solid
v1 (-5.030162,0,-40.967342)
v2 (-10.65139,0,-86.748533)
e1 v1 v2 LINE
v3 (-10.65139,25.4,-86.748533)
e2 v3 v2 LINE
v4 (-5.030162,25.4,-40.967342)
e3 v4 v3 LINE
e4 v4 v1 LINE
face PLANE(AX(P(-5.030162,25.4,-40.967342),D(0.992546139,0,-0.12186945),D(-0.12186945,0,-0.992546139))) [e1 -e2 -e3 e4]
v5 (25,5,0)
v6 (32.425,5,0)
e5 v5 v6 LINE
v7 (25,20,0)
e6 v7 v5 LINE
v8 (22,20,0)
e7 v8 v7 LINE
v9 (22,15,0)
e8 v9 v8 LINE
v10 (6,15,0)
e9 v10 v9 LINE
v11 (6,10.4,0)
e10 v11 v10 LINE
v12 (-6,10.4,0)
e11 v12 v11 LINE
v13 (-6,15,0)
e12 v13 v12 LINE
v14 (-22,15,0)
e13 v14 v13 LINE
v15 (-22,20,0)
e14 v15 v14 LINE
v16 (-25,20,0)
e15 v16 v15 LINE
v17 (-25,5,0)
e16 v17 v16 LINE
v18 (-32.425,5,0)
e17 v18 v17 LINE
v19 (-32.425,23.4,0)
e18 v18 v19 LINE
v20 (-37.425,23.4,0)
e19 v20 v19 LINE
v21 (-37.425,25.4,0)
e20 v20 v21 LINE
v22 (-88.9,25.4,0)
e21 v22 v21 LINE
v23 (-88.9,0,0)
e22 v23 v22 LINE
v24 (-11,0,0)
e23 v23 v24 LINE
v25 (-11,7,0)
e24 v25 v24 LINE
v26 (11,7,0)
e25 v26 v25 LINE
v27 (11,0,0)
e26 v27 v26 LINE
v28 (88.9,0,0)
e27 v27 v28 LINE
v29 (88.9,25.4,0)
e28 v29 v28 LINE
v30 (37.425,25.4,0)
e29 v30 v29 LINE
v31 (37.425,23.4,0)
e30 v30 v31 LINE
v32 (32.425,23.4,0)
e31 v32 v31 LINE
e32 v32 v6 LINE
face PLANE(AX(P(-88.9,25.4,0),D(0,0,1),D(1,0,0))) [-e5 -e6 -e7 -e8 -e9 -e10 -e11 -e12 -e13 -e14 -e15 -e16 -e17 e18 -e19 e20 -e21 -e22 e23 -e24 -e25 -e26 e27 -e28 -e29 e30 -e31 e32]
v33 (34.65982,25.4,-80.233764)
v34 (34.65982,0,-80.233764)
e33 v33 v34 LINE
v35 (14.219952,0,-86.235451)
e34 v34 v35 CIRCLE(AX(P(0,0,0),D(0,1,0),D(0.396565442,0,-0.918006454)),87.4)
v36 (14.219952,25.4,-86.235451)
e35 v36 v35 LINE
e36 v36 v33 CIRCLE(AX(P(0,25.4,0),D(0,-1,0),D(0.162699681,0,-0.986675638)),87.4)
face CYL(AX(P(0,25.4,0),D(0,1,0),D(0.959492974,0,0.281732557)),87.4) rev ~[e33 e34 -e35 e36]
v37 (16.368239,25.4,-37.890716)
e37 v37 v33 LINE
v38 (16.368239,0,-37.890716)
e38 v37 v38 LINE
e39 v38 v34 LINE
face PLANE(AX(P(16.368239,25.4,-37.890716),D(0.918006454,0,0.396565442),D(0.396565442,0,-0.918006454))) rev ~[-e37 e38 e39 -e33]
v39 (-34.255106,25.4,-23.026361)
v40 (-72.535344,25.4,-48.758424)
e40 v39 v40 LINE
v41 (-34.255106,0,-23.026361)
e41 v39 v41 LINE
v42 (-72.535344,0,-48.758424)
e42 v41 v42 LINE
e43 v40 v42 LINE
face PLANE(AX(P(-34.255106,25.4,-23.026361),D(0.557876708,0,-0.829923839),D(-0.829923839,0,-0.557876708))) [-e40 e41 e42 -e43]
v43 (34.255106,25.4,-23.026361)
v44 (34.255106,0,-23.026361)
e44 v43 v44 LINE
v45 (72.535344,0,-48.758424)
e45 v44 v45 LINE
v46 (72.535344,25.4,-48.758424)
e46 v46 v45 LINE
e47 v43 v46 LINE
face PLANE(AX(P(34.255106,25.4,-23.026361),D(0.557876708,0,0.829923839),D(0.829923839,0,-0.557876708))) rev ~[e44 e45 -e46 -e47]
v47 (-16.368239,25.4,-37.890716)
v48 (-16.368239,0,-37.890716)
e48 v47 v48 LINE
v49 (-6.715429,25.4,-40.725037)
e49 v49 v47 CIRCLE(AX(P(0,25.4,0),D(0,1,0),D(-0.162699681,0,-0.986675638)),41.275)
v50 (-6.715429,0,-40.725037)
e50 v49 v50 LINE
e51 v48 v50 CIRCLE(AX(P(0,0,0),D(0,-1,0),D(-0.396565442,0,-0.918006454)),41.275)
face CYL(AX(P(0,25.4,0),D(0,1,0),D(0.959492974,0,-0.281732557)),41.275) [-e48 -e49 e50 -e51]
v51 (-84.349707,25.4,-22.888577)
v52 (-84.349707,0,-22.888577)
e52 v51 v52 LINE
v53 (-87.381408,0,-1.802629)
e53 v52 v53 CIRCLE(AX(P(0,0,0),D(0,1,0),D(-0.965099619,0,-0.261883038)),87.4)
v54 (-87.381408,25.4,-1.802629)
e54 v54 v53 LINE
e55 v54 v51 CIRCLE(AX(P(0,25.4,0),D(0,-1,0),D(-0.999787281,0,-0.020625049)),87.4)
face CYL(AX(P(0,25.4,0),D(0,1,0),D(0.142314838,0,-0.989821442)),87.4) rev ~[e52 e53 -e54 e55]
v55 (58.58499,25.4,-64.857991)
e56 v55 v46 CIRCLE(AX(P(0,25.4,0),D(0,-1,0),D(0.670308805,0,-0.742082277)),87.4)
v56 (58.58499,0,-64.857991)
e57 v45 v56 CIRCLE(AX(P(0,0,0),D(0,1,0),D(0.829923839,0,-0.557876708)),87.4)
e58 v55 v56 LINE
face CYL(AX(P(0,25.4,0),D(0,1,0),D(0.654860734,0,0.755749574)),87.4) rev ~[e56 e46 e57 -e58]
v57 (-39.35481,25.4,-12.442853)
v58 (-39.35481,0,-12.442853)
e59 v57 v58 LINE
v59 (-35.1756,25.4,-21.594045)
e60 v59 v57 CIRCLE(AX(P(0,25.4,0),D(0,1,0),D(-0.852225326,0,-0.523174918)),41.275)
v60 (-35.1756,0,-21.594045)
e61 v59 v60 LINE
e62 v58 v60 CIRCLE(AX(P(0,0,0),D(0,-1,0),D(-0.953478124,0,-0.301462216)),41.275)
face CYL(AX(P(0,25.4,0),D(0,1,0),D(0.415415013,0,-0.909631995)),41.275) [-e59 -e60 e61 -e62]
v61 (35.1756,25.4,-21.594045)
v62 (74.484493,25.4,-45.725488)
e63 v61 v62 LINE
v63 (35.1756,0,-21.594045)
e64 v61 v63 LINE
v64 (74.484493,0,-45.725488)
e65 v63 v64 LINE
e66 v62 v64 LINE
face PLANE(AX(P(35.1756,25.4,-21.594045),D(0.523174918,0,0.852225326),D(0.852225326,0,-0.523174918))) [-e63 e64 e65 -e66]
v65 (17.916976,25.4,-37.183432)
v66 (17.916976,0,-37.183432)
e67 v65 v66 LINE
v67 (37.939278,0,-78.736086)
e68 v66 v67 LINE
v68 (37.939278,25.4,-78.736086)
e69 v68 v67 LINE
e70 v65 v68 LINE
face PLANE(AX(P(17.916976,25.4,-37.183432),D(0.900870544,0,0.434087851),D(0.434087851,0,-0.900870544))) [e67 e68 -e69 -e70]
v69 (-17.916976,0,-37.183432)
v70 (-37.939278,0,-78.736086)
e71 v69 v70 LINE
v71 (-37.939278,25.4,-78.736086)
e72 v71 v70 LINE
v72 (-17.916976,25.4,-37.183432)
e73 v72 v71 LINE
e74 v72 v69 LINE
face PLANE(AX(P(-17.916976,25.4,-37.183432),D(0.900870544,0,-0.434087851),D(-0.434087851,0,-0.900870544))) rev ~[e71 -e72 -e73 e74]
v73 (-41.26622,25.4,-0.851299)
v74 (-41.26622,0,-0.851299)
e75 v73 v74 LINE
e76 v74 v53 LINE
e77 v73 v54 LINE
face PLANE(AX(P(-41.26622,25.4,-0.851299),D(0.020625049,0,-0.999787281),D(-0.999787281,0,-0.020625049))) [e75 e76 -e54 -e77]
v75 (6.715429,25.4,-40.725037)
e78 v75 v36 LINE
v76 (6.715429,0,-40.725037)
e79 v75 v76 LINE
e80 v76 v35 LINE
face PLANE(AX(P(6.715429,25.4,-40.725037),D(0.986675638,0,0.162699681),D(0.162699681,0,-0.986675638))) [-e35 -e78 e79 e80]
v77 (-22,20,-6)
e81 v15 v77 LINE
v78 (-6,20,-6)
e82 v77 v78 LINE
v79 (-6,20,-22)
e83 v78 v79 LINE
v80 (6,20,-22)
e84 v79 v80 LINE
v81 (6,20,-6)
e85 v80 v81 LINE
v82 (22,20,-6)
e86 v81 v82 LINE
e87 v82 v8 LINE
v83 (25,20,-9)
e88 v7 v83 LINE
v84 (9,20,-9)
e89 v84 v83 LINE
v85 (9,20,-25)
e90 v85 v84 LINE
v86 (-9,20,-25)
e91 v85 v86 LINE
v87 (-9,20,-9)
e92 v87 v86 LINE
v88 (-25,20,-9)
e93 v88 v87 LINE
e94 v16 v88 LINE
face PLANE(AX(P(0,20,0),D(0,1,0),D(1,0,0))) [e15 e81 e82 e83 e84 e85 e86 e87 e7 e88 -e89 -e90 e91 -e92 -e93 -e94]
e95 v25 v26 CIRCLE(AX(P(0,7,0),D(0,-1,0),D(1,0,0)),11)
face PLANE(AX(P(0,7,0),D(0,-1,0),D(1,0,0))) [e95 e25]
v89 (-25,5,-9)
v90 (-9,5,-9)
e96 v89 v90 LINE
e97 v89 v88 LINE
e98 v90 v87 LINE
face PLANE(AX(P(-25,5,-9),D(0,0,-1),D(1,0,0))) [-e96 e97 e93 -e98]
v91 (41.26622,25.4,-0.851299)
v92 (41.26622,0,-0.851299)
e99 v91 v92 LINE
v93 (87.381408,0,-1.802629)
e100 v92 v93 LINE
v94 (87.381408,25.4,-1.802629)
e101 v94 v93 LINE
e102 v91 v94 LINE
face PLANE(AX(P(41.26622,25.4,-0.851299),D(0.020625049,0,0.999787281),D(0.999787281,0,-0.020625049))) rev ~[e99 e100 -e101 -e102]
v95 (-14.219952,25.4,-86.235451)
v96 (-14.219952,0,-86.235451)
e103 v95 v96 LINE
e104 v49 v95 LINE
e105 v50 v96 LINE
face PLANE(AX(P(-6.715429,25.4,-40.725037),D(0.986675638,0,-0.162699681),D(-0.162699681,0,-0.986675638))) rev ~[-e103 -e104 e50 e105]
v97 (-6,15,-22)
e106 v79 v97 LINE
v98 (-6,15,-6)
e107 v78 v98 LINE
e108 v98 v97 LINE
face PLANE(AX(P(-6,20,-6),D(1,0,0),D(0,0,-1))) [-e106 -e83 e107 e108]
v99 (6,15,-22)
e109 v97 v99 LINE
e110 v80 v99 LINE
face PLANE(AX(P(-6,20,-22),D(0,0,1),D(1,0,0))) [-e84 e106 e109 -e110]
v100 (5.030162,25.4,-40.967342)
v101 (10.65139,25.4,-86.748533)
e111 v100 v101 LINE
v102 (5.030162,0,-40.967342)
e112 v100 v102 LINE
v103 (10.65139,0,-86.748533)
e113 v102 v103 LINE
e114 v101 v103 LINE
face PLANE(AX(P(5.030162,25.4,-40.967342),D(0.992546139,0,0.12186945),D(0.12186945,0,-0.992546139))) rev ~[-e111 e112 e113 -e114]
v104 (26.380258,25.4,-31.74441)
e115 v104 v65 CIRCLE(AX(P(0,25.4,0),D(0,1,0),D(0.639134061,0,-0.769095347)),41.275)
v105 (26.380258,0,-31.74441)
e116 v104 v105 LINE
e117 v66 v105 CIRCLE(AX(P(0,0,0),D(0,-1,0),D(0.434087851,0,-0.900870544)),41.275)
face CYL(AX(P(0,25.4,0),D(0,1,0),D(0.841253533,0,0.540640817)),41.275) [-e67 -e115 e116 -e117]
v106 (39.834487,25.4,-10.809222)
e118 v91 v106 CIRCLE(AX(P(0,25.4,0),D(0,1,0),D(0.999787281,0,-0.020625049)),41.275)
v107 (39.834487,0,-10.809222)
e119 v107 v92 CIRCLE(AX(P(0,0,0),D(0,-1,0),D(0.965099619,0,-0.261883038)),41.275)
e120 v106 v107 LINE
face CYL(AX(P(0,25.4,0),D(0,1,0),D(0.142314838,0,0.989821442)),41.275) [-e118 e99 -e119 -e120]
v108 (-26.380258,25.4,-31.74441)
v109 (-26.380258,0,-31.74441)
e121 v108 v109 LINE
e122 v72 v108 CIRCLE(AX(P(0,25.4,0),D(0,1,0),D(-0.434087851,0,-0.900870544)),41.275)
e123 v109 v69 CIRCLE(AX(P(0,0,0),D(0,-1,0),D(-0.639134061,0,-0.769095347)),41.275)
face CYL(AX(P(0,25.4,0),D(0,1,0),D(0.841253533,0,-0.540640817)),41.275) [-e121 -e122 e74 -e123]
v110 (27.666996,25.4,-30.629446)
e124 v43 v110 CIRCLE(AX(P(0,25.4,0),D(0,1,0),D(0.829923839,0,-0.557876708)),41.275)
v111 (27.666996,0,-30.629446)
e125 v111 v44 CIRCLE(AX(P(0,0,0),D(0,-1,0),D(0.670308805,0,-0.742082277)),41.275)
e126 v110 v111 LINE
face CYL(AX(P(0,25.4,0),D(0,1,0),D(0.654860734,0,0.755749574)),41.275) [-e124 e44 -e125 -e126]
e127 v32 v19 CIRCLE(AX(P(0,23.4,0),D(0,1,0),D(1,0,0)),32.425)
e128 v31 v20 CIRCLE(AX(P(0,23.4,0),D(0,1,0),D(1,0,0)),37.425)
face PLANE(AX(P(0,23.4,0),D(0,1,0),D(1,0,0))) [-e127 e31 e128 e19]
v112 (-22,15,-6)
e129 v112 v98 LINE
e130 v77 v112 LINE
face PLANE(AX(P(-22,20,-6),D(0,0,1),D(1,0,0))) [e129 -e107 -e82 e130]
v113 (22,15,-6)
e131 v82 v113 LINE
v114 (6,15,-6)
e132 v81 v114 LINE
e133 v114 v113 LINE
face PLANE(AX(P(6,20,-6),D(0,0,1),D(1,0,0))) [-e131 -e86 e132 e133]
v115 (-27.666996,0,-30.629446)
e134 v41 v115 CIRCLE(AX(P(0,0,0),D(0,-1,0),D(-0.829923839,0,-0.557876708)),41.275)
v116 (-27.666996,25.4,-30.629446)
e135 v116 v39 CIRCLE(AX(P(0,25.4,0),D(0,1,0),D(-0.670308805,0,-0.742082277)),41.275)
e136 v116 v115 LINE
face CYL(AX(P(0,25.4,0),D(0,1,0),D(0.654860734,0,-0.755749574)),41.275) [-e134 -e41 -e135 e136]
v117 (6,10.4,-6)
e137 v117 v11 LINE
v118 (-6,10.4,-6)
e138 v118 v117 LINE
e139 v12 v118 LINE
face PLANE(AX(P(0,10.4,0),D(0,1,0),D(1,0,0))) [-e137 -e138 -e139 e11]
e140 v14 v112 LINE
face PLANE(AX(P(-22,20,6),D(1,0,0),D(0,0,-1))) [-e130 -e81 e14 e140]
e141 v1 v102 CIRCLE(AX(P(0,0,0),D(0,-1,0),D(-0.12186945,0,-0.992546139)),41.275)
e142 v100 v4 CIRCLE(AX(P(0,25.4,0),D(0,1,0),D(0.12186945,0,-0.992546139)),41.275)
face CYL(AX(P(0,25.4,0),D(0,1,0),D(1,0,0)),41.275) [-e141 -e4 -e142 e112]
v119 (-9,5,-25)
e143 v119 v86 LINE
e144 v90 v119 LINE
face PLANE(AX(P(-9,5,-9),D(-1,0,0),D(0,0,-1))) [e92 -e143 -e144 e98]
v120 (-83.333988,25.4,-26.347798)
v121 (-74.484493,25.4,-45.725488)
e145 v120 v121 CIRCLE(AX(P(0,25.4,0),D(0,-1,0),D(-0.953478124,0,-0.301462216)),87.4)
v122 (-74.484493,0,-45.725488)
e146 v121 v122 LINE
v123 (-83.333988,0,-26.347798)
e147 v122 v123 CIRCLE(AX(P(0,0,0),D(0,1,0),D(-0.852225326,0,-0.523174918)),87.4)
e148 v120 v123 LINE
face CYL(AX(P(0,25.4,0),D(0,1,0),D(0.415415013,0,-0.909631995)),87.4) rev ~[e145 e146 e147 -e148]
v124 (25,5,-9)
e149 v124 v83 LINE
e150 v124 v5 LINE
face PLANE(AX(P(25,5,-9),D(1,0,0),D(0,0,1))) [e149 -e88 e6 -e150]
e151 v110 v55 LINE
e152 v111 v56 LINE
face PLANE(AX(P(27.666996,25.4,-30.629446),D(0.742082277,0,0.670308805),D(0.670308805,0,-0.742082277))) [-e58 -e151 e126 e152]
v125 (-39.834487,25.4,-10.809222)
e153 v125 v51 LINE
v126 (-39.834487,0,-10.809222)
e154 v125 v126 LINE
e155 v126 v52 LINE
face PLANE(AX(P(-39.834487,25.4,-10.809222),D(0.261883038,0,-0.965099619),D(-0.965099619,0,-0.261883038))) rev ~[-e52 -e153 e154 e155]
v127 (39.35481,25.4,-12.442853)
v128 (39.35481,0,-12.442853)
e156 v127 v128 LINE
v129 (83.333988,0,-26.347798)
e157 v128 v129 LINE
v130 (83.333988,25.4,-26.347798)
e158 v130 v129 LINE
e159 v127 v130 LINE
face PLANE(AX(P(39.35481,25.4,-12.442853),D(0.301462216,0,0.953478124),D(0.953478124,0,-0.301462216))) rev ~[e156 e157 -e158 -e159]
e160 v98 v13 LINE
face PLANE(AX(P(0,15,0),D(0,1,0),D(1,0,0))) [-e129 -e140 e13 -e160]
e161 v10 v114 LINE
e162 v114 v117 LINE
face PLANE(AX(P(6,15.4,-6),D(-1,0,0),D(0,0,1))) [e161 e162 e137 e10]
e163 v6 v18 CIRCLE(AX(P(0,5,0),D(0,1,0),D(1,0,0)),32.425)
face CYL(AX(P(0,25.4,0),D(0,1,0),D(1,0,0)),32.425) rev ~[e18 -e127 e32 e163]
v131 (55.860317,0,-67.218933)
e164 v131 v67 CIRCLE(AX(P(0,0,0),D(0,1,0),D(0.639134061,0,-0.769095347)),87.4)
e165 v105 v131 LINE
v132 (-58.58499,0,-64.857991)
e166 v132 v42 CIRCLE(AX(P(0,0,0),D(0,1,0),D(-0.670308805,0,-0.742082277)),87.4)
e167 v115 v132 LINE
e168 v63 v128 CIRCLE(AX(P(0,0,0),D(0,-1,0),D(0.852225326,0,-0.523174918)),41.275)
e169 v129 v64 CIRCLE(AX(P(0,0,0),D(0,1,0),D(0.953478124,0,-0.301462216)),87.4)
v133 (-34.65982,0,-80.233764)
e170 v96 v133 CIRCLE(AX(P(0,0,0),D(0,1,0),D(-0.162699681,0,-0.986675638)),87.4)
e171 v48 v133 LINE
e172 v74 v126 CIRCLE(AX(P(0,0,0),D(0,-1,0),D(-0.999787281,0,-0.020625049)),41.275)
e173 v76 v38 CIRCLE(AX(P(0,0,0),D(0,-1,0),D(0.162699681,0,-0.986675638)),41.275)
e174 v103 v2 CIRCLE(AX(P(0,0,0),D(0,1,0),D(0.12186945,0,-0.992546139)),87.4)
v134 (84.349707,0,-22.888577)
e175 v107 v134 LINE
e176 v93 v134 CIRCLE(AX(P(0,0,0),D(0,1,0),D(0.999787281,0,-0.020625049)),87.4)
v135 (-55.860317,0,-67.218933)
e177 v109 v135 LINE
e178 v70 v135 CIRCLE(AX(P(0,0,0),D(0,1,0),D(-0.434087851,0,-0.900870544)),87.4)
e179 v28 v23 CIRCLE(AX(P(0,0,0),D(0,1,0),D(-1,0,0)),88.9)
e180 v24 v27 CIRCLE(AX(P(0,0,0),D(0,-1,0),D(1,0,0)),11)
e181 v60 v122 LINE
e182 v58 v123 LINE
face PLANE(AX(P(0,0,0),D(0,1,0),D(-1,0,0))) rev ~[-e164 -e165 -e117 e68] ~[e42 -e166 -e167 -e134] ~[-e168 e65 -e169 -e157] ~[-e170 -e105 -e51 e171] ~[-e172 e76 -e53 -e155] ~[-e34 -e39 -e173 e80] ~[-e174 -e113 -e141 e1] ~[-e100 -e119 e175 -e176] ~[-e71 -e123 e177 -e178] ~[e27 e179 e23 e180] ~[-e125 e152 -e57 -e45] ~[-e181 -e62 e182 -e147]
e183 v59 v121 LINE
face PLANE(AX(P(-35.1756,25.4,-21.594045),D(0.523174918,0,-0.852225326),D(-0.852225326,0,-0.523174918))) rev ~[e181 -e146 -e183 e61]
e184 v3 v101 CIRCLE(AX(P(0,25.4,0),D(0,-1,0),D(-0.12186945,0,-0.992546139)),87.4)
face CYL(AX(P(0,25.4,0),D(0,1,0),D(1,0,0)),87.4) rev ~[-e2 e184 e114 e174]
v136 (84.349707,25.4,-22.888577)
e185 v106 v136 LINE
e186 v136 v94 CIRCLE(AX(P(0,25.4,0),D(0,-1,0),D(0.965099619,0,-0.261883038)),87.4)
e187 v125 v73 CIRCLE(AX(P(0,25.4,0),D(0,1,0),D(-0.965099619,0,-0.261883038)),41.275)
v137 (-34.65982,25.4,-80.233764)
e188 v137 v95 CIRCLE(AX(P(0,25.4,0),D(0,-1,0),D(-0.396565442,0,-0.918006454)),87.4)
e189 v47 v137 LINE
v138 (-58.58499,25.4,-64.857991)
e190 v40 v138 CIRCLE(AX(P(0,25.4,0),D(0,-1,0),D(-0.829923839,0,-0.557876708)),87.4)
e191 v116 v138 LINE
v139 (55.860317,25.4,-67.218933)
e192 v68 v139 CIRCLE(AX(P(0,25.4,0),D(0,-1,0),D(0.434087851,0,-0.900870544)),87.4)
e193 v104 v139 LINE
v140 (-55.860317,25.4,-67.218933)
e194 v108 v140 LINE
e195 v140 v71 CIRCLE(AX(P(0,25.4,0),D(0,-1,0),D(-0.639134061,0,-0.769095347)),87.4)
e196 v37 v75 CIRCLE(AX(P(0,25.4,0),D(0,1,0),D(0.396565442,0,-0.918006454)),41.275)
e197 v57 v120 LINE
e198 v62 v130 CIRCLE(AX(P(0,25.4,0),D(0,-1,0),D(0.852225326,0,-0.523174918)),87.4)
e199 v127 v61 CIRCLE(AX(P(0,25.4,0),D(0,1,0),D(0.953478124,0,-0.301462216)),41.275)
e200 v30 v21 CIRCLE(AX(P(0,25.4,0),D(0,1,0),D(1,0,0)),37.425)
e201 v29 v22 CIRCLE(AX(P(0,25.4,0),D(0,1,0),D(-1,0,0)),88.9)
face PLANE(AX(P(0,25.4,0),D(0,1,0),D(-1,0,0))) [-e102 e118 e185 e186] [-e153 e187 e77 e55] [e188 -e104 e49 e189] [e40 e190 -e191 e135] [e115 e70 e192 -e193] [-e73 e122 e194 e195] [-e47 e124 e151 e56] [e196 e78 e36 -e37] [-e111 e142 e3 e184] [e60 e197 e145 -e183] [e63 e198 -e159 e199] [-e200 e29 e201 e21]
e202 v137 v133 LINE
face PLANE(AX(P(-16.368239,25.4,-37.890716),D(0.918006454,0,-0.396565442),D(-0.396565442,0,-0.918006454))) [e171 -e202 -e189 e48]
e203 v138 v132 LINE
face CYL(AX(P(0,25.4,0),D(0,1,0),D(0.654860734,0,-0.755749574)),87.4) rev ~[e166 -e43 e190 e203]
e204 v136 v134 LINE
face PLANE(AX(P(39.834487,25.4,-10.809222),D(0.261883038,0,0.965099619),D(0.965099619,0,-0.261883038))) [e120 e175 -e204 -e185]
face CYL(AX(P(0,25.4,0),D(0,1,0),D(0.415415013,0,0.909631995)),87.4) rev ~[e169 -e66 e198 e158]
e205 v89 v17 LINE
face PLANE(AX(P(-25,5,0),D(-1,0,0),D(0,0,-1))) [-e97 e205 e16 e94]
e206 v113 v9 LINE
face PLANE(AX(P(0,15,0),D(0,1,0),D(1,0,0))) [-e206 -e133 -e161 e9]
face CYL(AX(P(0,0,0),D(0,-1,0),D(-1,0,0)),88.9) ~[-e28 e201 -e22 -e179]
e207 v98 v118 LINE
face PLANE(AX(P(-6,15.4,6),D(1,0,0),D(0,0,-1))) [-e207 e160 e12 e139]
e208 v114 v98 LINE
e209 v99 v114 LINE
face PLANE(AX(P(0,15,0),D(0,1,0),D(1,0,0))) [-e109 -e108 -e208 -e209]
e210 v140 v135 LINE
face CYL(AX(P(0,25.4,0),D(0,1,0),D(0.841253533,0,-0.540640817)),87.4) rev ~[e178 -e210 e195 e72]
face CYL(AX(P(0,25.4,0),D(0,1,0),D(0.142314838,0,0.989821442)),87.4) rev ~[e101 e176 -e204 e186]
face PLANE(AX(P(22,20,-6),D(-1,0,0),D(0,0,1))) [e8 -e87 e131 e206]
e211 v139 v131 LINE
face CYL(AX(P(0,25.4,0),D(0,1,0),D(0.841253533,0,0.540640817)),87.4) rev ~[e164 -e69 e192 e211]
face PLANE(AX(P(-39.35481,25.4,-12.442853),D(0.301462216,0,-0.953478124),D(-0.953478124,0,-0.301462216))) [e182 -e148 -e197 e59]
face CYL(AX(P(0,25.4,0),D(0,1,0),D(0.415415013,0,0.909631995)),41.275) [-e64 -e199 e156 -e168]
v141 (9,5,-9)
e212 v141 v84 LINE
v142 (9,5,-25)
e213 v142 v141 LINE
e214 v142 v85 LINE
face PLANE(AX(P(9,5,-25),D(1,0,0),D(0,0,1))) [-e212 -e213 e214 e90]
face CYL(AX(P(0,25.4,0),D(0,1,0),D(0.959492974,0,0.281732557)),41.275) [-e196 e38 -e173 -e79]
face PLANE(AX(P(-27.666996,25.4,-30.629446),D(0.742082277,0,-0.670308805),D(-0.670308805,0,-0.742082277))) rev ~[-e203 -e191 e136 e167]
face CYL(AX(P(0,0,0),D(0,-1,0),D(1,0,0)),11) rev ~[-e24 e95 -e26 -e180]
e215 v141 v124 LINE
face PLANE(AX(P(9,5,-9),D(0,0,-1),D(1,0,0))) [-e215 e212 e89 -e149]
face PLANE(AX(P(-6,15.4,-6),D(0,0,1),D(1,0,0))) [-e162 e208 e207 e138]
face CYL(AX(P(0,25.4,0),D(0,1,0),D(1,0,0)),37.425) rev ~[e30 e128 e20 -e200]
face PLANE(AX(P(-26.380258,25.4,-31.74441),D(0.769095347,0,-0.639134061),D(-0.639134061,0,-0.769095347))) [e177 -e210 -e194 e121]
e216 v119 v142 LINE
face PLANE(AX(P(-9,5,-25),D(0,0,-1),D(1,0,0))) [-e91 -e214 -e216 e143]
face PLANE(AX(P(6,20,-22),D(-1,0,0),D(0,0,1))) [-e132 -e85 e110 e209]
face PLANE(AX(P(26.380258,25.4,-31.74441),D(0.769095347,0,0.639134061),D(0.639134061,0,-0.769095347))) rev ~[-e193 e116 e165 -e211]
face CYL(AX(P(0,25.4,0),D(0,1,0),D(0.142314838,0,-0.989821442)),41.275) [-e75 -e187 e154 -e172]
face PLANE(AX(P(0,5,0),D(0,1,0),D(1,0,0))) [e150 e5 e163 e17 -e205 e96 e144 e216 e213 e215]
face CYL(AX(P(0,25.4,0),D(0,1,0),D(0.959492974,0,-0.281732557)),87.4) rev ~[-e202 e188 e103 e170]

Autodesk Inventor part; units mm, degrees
ref_plane "YZ Plane" through (0, 0, 0) normal (1, 0, 0) x (0, 1, 0)
sketch "Sketch1" plane through (0, 0, 0) normal (0, 1, 0) x (-1, 0, 0)
  circle A0 centre (0, 0) radius 88.9
  dimension "d0" = 177.8
extrude "Extrusion1" add sketch "Sketch1" along normal blind 25.4
sketch "Sketch2" plane through (0, 25.4, 0) normal (0, 1, 0) x (1, 0, 0)
  circle A0 centre (0, 0) radius 87.4
  line L0 (0, 0) -> (-10.8342, 88.2374)
  circle A1 centre (0, 0) radius 88.9 projected
  line L1 (0, 0) -> (10.8342, 88.2374)
  circle A2 centre (0, 0) radius 34.925
  line L2 (0, 0) -> (0, 88.9)
  circle A3 centre (0, 0) radius 41.275
  point P0 (-4.2563, 34.6647)
  point P1 (4.2563, 34.6647)
  point P2 (10.6514, 86.7485)
  point P3 (-10.6514, 86.7485)
  point P4 (-5.0302, 40.9673)
  point P5 (5.0302, 40.9673)
  dimension "d3" = 174.8
  dimension "d4" = 69.85
  dimension "d10" = 14
  dimension "d11" = 7
  dimension "d45" = 82.55
extrude "Extrusion2" cut sketch "Sketch2" against normal blind 25.4 contours L1 A3 L2 A0 | A0 L2 A3 L0
pattern_circular "Circular Pattern1" count 22 over 360 about axis through (0, 0, 0) along (0, 1, 0) of "Extrusion2"
sketch "Sketch4" plane through (0, 25.4, 0) normal (0, 1, 0) x (1, 0, 0)
  circle A0 centre (0, 0) radius 32.425
  dimension "d16" = 64.85
extrude "Extrusion3" cut sketch "Sketch4" against normal blind 20.4
ref_plane "Work Plane1" through (0, 5, 0) normal (0, 1, 0) x (1, 0, 0)
sketch "Sketch5" plane through (0, 5, 0) normal (0, 1, 0) x (1, 0, 0)
  line L0 (0, 0) -> (0, 25)
  line L1 (0, 0) -> (-25, 0)
  line L2 (0, 0) -> (0, -25)
  line L3 (0, 0) -> (25, 0)
  line L4 (25, 0) -> (25, -9)
  line L5 (0, -25) -> (9, -25)
  line L6 (9, -25) -> (9, -9)
  line L7 (9, -9) -> (25, -9)
  line L8 (0, -25) -> (-9, -25)
  line L9 (-9, -25) -> (-9, -9)
  line L10 (-9, -9) -> (-25, -9)
  line L11 (-25, -9) -> (-25, 0)
  line L12 (-25, 0) -> (-25, 9)
  line L13 (-25, 9) -> (-9, 9)
  line L14 (-9, 9) -> (-9, 25)
  line L15 (-9, 25) -> (0, 25)
  line L16 (9, 25) -> (0, 25)
  line L17 (9, 25) -> (9, 9)
  line L18 (9, 9) -> (25, 9)
  line L19 (25, 9) -> (25, 0)
  dimension "d65" = 25
  dimension "d66" = 25
  dimension "d67" = 25
  dimension "d68" = 25
  dimension "d69" = 9
  dimension "d70" = 9
  dimension "d71" = 9
  dimension "d72" = 9
  dimension "d85" = 9
  dimension "d86" = 9
  dimension "d87" = 9
  dimension "d88" = 9
extrude "Extrusion4" add sketch "Sketch5" along normal blind 15
ref_plane "Work Plane3" through (0, 15.4, 0) normal (0, 1, 0) x (1, 0, 0)
sketch "Sketch21" plane through (0, 25.4, 0) normal (0, 1, 0) x (1, 0, 0)
  circle A0 centre (0, 0) radius 32.425
  circle A1 centre (0, 0) radius 37.425
  dimension "d51" = 64.85
  dimension "d52" = 74.85
extrude "Extrusion8" cut sketch "Sketch21" against normal blind 2
sketch "Sketch23" plane through (0, 0, 0) normal (0, -1, 0) x (1, 0, 0)
  circle A0 centre (0, 0) radius 11
  dimension "d60" = 22
extrude "Extrusion10" cut sketch "Sketch23" against normal blind 7
sketch "Sketch7" plane through (0, 15.4, 0) normal (0, 1, 0) x (1, 0, 0)
  line L0 (-6, 6) -> (6, 6)
  line L1 (6, 6) -> (6, -6)
  line L2 (6, -6) -> (-6, -6)
  line L3 (-6, -6) -> (-6, 6)
  line L4 (-15, 15) -> (15, 15) projected
  line L5 (15, 15) -> (15, -15) projected
  line L6 (-15, -15) -> (-15, 15) projected
  line L7 (15, -15) -> (-15, -15) projected
  point P0 (0, 0)
  dimension "d32" = 9
  dimension "d33" = 9
  dimension "d34" = 9
  dimension "d35" = 9
extrude "Extrusion6" cut sketch "Sketch7" against normal blind 5 contours L0 L1 L2 L3
sketch "Sketch25" plane through (0, 20, 0) normal (0, 1, 0) x (1, 0, 0)
  line L0 (-22, 6) -> (-6, 6)
  line L1 (-6, 6) -> (-6, 22)
  line L2 (-6, 22) -> (6, 22)
  line L3 (6, 22) -> (6, 6)
  line L4 (6, 6) -> (22, 6)
  line L5 (22, 6) -> (22, -6)
  line L6 (22, -6) -> (6, -6)
  line L7 (6, -6) -> (6, -22)
  line L8 (6, -22) -> (-6, -22)
  line L9 (-6, -22) -> (-6, -6)
  line L10 (-22, -6) -> (-6, -6)
  line L11 (-22, -6) -> (-22, 6)
  line L12 (-9, 25) -> (-9, 9) projected
  line L13 (9, 25) -> (-9, 25) projected
  line L14 (9, 9) -> (9, 25) projected
  line L15 (9, 9) -> (25, 9) projected
  line L16 (9, -9) -> (25, -9) projected
  line L17 (25, -9) -> (25, 9) projected
  line L18 (9, -25) -> (9, -9) projected
  line L19 (-9, -25) -> (9, -25) projected
  line L20 (-9, -9) -> (-9, -25) projected
  line L21 (-25, -9) -> (-9, -9) projected
  line L22 (-25, 9) -> (-25, -9) projected
  line L23 (-9, 9) -> (-25, 9) projected
  point P0 (0, 0)
  dimension "d73" = 3
  dimension "d74" = 3
  dimension "d75" = 3
  dimension "d76" = 3
  dimension "d77" = 3
  dimension "d78" = 3
  dimension "d79" = 3
  dimension "d80" = 3
  dimension "d81" = 3
  dimension "d82" = 3
  dimension "d83" = 3
  dimension "d84" = 3
extrude "Extrusion11" cut sketch "Sketch25" against normal blind 5 contours L0 L1 L2 L3 L4 L5 L6 L7 L8 L9 L10 L11
sketch "Sketch27" plane through (0, 25.4, 0) normal (0, 1, 0) x (1, 0, 0)
  circle A0 centre (0, 0) radius 88.9 projected
  line L0 (-88.9, 0) -> (88.9, 0)
ref_plane "Work Plane4" through (-88.9, 25.4, 0) normal (0, 0, 1) x (1, 0, 0)
sketch "Sketch28" plane through (-88.9, 25.4, 0) normal (0, 0, 1) x (1, 0, 0)
  line L0 (-17.5989, 18.4525) -> (205.1439, 18.4525)
  line L1 (205.1439, 18.4525) -> (205.1439, -42.1057)
  line L2 (205.1439, -42.1057) -> (-17.5989, -42.1057)
  line L3 (-17.5989, -42.1057) -> (-17.5989, 18.4525)
  point P0 (88.9, -25.4)
extrude "Extrusion12" cut sketch "Sketch28" along normal through all
equation "\"d11\" = 0.5 * d10"
equation "\"d33\" = d32"
equation "\"d34\" = d32"
equation "\"d35\" = d32"
equation "\"d75\" = d73"
equation "\"d76\" = d73"
equation "\"d77\" = d73"
equation "\"d78\" = d73"
equation "\"d80\" = d73"
equation "\"d83\" = d73"
properties part number "Capsule_Design_Final"
